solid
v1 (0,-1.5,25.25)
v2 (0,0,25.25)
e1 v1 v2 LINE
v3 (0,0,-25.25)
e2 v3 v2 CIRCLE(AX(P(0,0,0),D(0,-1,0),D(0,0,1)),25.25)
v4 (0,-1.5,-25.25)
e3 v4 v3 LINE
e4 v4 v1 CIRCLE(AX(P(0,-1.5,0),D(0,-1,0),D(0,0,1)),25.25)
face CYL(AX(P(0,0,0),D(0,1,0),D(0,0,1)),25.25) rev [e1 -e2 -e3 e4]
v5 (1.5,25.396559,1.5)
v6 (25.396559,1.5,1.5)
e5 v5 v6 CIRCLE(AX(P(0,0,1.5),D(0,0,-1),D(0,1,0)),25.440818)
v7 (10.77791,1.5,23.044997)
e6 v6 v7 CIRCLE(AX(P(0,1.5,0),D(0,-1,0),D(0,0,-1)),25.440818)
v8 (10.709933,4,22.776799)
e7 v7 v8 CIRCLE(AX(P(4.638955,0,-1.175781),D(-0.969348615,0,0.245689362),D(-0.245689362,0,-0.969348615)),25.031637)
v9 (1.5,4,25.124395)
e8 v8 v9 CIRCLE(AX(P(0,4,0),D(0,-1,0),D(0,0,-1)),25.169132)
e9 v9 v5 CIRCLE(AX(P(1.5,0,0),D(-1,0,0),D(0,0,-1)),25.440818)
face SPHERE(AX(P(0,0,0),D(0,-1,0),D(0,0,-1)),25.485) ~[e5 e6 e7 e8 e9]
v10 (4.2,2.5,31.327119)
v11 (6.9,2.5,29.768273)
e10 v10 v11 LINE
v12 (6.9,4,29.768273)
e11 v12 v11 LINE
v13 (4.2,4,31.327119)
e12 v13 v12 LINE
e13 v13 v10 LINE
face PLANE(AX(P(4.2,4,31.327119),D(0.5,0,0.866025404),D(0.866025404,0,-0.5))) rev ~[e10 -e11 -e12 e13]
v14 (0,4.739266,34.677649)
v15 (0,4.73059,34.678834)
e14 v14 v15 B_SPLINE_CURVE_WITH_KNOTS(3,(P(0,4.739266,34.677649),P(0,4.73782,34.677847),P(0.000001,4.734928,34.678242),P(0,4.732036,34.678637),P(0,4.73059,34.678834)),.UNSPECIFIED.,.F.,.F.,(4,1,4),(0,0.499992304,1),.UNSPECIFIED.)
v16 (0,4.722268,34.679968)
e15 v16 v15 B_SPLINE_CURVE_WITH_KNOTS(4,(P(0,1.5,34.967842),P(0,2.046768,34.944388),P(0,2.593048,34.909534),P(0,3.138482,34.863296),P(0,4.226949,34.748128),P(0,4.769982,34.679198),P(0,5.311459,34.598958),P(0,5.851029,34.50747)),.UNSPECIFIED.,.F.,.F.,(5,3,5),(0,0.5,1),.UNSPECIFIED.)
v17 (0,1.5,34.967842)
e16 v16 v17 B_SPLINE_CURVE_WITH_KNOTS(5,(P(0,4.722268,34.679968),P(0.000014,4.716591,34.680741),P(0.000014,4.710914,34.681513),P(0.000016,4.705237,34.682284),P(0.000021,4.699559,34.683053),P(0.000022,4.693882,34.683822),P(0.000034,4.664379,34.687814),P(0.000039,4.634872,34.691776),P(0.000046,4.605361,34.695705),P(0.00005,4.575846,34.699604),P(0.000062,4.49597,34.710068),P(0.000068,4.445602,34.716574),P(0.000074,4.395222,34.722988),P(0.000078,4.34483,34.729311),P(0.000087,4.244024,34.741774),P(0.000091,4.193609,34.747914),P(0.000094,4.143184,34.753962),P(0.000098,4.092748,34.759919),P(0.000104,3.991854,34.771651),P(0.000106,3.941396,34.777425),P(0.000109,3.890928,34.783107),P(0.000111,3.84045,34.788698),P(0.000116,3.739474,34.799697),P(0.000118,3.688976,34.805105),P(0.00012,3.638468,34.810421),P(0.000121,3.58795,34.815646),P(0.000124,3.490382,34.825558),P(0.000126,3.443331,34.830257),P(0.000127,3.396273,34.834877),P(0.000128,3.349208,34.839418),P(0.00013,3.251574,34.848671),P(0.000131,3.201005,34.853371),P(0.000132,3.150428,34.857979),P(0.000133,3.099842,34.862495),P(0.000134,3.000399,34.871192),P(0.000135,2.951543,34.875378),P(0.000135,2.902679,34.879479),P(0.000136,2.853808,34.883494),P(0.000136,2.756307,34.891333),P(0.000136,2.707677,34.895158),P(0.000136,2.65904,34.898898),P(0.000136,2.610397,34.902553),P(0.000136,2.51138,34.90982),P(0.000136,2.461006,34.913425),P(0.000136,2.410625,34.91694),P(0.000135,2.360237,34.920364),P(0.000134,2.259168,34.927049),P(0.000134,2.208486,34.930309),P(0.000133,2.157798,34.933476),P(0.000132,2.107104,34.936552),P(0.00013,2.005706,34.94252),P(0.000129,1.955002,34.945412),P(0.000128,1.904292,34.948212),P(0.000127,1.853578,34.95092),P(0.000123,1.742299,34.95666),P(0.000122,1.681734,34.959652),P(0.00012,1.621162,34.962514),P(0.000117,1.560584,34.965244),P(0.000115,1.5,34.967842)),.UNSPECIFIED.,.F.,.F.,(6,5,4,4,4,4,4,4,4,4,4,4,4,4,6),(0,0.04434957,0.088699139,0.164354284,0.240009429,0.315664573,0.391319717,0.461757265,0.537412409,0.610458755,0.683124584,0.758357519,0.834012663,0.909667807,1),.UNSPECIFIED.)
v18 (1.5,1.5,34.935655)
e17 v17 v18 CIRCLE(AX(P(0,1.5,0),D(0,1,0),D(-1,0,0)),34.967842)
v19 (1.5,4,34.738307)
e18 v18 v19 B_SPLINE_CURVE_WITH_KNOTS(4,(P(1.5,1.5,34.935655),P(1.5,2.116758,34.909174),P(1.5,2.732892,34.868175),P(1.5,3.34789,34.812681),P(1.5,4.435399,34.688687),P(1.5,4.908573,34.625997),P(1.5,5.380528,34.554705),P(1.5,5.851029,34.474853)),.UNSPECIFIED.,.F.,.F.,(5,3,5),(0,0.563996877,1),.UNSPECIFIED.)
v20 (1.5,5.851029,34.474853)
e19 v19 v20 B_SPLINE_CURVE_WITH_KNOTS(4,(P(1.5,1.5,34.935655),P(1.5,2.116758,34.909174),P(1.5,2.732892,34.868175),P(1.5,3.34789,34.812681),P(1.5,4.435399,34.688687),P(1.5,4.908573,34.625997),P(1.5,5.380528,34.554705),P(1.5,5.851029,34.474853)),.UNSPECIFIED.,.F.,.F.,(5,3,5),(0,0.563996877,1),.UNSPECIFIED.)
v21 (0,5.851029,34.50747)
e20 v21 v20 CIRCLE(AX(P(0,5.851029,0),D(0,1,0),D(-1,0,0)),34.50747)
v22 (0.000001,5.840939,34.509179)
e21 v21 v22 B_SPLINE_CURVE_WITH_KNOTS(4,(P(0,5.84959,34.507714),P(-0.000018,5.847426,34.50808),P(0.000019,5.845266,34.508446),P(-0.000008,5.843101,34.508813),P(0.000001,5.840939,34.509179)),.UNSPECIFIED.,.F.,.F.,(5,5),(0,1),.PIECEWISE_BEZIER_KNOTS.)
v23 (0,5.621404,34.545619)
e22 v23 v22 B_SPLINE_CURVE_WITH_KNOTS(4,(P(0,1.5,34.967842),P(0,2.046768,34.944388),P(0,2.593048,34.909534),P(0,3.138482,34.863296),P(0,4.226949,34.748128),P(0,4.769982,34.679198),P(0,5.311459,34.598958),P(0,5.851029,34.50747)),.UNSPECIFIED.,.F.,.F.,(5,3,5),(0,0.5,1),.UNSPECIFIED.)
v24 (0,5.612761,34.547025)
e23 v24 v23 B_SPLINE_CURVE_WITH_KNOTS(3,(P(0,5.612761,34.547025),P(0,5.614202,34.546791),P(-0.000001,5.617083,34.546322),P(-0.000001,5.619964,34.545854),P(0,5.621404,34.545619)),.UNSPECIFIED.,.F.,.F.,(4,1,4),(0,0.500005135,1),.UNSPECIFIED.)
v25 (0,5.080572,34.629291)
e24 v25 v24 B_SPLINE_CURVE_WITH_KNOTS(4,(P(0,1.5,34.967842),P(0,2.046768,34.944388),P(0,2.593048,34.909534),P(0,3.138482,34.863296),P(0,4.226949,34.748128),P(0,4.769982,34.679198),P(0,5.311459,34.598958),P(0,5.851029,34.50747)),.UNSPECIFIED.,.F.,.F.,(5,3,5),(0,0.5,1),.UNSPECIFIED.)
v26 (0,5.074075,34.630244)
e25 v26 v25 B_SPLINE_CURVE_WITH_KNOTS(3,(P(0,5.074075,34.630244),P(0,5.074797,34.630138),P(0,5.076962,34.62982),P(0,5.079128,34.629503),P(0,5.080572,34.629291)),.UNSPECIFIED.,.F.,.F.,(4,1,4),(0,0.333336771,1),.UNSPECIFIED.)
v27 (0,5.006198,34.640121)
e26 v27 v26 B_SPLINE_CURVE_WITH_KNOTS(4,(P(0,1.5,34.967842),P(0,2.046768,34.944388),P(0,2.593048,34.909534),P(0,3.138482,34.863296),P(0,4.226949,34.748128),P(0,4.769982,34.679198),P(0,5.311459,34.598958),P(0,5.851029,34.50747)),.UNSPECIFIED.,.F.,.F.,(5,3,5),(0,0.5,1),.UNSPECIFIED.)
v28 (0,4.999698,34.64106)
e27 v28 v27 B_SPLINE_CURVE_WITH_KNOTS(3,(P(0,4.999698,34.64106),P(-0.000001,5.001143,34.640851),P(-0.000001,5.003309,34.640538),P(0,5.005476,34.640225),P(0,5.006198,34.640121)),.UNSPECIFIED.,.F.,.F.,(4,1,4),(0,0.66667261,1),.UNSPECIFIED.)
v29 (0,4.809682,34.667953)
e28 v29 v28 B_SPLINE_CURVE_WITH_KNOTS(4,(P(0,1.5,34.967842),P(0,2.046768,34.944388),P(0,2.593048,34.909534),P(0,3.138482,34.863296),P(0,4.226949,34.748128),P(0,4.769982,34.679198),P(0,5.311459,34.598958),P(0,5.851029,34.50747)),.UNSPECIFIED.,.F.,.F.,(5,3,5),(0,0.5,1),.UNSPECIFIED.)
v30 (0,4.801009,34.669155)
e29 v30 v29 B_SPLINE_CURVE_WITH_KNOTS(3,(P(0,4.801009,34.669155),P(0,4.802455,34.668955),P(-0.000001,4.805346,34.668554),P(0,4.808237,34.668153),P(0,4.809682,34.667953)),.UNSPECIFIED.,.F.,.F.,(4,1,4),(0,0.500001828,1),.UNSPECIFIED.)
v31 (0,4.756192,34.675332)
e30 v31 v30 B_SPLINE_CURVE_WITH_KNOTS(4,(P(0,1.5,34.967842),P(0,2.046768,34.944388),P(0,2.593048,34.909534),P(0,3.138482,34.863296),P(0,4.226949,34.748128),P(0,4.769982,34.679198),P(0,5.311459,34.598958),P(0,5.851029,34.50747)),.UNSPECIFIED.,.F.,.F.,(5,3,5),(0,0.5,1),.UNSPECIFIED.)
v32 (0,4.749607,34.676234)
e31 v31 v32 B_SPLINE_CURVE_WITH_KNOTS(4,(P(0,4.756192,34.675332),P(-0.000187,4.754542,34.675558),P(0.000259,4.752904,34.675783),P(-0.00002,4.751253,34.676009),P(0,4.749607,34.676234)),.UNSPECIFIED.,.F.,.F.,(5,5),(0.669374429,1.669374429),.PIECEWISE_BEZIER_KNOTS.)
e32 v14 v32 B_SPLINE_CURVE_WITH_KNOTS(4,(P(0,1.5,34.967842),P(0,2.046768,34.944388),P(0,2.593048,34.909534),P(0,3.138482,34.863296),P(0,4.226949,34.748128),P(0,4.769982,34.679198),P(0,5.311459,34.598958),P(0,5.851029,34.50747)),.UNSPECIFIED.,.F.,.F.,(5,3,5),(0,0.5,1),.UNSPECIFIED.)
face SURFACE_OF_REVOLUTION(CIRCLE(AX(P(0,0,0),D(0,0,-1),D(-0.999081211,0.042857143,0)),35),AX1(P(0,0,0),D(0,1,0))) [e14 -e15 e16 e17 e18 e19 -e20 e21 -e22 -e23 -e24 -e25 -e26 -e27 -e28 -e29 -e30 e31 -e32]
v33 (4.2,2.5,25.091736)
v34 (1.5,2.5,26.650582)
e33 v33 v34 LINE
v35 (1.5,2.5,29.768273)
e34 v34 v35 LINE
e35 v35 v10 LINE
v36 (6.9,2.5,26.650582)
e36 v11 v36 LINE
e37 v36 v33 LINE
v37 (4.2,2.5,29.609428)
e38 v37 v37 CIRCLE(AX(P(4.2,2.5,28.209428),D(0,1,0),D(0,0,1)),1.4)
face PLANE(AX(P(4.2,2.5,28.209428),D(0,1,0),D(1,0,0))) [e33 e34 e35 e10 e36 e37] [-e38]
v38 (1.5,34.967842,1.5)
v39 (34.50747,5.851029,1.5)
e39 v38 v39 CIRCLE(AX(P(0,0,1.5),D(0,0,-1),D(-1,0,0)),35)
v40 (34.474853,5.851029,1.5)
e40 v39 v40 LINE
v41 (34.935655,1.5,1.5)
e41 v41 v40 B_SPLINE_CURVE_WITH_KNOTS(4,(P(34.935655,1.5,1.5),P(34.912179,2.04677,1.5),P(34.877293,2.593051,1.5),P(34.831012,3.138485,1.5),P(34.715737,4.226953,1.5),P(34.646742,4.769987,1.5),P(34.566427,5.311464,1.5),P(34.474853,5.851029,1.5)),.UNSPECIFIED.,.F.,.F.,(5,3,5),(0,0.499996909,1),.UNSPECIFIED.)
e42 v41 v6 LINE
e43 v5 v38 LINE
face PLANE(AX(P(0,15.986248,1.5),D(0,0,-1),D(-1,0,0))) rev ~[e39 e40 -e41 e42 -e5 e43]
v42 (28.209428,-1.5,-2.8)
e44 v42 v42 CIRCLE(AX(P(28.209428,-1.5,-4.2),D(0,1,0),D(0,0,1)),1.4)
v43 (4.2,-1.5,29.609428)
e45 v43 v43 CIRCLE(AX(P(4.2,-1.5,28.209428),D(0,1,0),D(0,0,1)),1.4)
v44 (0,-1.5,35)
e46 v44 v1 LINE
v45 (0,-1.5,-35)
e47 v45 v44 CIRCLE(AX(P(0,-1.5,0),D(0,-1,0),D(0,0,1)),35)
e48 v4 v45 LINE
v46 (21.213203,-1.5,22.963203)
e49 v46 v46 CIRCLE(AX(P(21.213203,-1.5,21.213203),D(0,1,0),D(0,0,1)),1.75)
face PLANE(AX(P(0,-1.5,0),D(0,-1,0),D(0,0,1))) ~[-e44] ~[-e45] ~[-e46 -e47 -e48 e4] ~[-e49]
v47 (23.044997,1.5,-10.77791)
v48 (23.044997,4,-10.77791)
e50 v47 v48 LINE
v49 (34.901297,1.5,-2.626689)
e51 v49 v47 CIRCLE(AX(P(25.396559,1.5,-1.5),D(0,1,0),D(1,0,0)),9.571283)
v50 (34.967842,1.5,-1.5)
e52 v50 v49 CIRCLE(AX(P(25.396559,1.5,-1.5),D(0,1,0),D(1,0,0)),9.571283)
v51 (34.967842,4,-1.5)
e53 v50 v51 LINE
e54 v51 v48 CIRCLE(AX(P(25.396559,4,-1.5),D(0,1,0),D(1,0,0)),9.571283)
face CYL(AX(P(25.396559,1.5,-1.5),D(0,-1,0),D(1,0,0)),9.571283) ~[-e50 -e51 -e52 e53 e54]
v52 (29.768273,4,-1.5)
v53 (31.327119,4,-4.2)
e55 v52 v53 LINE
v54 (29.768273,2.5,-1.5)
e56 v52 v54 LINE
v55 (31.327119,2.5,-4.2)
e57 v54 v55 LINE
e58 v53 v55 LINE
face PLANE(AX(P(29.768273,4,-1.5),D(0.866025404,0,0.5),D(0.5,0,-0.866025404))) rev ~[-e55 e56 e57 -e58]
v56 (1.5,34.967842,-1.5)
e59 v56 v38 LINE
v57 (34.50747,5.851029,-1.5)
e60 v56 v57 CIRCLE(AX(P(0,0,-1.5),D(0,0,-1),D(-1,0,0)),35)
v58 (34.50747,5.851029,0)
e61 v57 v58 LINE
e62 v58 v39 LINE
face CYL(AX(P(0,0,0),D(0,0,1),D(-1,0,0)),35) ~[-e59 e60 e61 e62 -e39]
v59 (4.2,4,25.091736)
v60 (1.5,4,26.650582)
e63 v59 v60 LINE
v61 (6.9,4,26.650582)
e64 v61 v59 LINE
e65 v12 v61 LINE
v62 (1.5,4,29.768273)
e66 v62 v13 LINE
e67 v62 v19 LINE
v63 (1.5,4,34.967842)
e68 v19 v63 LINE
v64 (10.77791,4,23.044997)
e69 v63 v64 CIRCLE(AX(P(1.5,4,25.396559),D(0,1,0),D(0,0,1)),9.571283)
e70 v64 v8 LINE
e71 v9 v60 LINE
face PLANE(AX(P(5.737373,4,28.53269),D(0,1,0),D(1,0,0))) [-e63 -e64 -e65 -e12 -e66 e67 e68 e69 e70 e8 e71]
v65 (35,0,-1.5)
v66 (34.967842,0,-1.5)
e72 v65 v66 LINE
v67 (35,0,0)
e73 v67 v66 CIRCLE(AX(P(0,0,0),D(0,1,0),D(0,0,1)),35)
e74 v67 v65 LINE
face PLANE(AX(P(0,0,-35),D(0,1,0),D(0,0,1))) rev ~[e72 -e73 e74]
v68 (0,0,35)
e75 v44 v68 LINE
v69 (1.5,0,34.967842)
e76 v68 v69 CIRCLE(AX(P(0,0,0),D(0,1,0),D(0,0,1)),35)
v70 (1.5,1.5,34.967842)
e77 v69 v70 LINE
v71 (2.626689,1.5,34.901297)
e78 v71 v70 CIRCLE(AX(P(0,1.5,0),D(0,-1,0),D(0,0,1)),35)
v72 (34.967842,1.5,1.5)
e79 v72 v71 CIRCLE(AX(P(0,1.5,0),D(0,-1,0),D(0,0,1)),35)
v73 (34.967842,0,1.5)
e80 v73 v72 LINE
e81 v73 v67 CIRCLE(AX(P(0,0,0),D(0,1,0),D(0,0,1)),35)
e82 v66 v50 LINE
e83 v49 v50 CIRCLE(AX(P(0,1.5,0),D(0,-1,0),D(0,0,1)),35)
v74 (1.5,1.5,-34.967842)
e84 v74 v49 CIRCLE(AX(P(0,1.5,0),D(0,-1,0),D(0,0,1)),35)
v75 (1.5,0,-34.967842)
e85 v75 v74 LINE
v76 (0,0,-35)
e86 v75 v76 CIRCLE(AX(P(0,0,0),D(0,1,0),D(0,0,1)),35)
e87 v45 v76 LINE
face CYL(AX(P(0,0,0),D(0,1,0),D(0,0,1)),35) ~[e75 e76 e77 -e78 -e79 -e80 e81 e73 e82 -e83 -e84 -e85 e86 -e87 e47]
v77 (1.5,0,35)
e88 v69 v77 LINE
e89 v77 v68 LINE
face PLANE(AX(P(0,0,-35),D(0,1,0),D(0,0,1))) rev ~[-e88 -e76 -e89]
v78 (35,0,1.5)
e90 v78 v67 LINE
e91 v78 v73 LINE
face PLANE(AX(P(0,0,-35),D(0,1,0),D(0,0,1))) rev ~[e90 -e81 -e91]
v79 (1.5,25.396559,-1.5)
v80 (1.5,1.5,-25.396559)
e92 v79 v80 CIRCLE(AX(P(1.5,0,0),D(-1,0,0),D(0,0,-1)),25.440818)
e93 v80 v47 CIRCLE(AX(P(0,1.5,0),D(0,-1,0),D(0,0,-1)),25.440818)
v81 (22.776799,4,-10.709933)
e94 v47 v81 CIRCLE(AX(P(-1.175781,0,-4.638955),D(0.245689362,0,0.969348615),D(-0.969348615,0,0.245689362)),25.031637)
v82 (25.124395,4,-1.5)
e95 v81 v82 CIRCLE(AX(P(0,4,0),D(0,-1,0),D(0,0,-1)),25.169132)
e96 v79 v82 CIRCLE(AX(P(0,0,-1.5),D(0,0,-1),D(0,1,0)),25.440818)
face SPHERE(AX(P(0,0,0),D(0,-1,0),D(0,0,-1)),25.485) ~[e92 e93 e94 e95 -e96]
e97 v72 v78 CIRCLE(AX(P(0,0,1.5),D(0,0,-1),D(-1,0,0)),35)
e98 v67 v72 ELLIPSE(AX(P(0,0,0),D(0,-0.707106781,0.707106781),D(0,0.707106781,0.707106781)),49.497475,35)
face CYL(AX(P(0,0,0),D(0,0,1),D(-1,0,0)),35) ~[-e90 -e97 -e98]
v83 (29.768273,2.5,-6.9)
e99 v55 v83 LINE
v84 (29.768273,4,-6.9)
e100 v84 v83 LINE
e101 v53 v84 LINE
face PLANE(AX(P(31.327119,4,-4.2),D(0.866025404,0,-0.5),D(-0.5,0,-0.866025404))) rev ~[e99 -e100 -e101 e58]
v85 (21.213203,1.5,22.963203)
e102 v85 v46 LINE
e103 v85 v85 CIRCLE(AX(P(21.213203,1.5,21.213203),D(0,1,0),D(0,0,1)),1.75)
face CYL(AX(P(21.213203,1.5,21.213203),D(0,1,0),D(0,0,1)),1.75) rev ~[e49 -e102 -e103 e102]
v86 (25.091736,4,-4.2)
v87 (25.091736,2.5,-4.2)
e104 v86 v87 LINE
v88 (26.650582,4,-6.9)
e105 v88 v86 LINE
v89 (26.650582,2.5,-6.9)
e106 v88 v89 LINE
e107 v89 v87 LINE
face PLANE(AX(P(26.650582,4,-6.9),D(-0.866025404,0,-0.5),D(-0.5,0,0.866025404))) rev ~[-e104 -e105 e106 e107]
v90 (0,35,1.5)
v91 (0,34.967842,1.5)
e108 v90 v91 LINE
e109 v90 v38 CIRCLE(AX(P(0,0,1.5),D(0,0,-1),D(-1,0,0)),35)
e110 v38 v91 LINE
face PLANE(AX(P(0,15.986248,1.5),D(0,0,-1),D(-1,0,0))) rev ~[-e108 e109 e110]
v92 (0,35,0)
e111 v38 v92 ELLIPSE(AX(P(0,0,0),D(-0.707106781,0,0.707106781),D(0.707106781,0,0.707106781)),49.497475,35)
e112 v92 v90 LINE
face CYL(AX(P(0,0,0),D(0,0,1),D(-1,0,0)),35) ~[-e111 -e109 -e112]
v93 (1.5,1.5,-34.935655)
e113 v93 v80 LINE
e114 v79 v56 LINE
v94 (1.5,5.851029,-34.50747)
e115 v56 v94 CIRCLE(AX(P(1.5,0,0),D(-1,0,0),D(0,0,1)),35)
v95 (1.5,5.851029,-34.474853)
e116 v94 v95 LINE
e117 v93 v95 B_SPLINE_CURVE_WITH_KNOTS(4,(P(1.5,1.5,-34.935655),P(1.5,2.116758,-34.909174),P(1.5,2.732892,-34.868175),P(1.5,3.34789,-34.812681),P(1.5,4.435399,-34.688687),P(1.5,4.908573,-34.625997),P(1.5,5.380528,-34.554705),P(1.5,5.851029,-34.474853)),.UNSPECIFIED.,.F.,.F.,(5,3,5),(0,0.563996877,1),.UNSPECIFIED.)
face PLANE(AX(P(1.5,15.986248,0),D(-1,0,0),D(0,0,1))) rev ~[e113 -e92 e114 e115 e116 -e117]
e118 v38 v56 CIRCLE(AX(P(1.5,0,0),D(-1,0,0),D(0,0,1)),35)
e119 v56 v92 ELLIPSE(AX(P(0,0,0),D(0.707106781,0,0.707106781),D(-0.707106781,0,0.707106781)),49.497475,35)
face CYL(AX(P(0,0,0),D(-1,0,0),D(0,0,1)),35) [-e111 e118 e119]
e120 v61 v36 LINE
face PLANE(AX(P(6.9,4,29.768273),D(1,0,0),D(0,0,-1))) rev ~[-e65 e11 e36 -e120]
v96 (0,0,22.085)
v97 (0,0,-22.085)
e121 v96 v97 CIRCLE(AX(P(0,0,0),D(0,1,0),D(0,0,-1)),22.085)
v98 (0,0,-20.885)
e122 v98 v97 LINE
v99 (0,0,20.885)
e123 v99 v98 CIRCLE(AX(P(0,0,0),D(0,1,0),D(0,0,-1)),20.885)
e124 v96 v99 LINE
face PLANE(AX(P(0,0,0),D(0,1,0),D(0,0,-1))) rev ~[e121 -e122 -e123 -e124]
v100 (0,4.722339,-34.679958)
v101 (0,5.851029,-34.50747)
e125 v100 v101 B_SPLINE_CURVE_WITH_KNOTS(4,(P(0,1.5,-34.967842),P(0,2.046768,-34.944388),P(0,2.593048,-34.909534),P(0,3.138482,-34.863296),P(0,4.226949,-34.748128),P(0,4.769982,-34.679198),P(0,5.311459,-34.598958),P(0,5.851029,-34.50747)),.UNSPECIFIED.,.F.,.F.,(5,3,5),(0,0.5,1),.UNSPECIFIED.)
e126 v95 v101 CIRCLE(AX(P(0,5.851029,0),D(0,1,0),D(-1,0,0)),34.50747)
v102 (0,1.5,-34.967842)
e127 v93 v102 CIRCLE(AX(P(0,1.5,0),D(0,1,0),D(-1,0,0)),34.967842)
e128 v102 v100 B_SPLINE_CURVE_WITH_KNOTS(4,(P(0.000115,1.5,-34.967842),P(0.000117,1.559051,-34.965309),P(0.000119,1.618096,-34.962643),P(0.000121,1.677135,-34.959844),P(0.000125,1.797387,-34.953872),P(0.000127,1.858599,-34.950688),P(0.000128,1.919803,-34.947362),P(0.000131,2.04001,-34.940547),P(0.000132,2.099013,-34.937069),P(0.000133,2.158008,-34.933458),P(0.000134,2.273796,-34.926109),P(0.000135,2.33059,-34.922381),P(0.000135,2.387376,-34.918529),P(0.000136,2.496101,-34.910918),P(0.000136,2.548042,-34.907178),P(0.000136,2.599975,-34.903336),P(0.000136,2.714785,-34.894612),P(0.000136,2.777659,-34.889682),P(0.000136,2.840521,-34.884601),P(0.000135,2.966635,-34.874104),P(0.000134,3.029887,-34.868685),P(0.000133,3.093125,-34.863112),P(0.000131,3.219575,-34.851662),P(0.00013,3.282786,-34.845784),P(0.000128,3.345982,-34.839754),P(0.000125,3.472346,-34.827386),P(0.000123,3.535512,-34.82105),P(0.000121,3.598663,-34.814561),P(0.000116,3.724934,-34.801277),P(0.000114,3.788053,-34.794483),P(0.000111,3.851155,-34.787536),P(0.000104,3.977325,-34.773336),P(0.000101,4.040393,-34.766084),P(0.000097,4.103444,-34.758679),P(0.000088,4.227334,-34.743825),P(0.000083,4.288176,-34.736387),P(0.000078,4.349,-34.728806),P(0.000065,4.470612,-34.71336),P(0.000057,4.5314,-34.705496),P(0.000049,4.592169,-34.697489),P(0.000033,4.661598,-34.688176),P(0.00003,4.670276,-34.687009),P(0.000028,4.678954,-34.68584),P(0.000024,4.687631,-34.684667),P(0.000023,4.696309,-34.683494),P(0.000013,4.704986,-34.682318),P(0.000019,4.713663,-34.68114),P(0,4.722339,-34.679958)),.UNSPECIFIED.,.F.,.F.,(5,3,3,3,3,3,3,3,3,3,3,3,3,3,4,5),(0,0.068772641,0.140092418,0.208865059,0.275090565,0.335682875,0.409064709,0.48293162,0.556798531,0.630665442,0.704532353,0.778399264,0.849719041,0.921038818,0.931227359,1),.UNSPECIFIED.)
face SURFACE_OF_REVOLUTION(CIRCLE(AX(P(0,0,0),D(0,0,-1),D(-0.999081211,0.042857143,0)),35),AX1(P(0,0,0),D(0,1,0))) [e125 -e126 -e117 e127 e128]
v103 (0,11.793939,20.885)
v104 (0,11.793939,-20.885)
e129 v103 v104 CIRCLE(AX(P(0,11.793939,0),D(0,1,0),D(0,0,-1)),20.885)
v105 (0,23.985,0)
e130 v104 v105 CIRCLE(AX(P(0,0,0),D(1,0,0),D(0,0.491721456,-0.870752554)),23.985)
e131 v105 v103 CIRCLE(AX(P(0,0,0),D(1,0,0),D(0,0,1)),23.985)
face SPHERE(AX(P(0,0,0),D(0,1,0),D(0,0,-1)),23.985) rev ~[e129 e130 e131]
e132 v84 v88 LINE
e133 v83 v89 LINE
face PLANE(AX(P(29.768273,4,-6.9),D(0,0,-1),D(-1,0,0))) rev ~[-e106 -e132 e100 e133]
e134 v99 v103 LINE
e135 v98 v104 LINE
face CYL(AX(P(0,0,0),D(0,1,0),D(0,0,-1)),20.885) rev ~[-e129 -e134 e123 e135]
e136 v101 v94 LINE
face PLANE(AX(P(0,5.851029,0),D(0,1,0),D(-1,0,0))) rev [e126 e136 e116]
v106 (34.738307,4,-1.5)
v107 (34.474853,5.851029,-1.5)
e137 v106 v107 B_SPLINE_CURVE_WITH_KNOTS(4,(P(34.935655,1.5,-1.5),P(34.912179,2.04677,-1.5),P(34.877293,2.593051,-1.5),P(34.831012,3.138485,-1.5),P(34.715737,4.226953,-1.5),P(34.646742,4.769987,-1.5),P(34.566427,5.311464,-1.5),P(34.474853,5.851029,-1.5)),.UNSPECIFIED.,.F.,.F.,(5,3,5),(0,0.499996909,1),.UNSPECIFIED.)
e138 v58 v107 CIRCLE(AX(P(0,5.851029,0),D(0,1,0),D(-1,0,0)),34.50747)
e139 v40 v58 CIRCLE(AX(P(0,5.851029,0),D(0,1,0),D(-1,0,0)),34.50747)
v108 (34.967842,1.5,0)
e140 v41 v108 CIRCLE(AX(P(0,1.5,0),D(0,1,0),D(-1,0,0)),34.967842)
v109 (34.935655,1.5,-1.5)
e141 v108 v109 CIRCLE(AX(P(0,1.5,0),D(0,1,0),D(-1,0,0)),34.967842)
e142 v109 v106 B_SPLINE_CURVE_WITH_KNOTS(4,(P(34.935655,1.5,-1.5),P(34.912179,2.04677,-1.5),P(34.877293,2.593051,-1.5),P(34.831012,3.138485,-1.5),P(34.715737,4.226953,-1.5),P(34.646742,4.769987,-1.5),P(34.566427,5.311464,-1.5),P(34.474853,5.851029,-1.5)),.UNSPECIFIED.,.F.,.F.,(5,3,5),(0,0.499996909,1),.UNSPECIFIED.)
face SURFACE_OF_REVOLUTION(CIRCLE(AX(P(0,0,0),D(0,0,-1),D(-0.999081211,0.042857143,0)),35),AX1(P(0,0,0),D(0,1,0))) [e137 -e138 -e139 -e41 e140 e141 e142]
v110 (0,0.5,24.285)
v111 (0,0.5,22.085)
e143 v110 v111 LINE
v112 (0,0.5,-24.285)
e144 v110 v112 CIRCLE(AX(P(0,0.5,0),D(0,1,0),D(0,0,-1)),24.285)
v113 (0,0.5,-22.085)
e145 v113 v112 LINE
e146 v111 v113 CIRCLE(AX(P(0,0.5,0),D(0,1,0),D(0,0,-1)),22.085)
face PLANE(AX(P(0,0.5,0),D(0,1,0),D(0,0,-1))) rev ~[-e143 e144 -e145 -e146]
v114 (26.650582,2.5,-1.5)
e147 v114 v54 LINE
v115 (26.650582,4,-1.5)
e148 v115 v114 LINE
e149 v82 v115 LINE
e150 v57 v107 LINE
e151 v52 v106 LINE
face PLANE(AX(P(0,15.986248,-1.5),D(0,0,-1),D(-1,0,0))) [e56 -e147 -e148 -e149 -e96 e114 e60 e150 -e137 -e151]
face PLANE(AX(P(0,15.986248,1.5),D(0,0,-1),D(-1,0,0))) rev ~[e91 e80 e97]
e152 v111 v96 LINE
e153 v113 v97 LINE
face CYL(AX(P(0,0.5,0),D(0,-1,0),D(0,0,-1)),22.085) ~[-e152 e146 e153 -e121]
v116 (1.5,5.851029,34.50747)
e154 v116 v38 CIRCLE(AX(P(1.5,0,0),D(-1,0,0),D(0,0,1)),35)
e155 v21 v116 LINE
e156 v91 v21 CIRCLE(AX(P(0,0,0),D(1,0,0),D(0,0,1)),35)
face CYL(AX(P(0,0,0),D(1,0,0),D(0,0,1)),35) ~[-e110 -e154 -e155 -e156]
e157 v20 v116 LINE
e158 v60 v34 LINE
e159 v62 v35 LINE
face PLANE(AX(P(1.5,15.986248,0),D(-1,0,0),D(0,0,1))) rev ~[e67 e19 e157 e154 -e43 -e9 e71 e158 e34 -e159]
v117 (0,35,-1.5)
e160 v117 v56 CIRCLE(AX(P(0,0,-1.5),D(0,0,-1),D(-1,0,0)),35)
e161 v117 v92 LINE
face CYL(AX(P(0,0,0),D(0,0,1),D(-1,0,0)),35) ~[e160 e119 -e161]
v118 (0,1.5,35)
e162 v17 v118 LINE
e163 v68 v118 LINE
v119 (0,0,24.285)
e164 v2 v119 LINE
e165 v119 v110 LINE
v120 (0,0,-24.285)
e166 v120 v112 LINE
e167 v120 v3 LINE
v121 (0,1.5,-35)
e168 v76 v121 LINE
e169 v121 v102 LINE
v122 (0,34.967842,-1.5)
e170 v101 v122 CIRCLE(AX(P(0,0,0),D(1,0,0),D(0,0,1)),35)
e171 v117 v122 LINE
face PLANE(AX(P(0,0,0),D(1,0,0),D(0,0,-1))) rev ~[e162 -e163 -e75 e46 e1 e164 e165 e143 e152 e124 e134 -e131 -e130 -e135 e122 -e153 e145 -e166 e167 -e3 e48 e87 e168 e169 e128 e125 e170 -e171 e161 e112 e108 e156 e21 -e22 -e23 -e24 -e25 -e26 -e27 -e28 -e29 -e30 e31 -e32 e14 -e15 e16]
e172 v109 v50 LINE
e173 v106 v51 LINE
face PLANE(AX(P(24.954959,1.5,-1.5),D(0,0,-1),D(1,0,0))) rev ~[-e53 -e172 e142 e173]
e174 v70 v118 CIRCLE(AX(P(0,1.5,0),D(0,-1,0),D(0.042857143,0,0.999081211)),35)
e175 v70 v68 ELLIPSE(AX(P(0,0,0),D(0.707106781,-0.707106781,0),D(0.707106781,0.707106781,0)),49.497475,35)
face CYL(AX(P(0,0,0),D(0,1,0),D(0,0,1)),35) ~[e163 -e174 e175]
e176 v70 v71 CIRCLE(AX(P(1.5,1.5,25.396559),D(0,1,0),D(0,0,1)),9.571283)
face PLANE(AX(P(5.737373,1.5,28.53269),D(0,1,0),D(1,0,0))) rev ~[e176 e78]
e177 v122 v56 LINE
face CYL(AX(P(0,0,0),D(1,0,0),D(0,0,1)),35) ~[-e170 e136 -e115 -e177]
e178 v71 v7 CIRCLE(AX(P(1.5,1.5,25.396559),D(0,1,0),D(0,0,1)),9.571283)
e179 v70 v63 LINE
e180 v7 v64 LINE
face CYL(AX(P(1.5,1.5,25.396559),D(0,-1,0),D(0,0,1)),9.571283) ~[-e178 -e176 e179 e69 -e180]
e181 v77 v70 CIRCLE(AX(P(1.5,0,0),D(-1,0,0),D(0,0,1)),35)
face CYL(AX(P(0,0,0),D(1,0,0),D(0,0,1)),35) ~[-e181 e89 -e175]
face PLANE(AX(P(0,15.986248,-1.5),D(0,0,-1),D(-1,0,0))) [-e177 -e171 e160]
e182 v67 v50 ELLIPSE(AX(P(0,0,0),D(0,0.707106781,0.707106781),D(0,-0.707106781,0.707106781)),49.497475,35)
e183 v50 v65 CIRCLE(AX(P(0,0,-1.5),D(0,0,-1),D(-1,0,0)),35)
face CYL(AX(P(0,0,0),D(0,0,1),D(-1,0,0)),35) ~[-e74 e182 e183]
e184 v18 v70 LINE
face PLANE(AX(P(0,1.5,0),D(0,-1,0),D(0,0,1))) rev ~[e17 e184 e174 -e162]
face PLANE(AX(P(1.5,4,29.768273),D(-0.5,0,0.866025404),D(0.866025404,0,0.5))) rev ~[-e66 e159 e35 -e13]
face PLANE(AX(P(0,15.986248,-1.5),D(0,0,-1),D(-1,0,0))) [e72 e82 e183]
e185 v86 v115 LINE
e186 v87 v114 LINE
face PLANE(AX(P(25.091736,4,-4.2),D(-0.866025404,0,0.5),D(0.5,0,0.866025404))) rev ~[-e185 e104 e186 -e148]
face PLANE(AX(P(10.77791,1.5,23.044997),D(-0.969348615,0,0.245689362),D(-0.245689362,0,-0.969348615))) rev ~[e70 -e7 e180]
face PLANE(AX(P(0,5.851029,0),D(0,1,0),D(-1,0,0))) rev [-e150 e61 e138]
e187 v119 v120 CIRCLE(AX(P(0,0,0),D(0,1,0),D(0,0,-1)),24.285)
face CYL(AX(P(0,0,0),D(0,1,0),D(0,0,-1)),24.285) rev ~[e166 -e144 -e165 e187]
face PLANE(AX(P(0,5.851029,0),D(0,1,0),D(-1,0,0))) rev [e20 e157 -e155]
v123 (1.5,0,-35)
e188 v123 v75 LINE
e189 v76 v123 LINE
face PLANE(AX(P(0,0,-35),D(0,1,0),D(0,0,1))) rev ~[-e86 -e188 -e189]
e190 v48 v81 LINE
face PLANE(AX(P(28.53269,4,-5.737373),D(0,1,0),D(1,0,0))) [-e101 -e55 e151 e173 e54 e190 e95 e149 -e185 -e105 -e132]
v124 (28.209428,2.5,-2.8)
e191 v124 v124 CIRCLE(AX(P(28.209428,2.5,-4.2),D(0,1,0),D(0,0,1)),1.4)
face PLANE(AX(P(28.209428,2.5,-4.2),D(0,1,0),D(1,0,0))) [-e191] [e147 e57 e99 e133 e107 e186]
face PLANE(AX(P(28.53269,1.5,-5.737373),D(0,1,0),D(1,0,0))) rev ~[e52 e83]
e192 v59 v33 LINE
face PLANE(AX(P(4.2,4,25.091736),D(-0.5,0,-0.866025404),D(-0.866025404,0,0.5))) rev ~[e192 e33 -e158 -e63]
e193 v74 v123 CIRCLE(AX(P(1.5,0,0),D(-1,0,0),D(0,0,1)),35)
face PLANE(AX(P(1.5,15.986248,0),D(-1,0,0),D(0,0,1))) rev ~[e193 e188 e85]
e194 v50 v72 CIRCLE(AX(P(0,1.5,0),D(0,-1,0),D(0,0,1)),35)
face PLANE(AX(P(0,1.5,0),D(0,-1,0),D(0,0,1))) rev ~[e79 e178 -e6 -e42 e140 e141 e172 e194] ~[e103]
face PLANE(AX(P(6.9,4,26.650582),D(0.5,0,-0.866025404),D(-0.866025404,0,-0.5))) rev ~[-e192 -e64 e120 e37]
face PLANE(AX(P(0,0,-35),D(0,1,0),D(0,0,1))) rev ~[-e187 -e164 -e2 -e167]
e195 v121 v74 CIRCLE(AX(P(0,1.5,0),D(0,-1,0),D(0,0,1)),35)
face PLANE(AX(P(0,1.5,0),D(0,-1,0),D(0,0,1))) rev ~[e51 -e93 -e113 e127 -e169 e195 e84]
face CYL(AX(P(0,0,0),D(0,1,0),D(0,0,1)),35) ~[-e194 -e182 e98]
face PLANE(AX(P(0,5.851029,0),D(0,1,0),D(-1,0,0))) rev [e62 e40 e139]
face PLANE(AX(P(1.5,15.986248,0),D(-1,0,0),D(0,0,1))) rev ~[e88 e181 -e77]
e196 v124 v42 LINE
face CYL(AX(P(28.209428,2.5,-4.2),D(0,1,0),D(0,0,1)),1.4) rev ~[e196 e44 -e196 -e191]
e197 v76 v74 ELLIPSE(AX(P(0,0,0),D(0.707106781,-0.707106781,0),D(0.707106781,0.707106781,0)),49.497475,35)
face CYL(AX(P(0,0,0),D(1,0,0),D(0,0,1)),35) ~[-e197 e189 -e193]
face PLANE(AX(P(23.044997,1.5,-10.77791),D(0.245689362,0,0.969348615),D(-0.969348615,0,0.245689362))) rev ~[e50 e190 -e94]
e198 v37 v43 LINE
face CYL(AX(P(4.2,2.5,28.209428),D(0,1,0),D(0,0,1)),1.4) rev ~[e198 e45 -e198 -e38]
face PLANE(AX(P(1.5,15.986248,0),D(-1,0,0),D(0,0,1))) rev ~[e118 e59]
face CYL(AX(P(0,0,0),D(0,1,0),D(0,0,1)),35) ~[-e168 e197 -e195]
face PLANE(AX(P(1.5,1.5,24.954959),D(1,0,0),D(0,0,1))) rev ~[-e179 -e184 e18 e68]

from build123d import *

# Parameters (mm, degrees)
BOSS_EXTRUDE1_DEPTH      = 1.5
BOSS_EXTRUDE1_DEPTH_BACK = 1.5
BOSS_EXTRUDE2_DEPTH      = 1.5
BOSS_EXTRUDE2_DEPTH_BACK = 1.5
SKETCH6_W                = 9.75
SKETCH6_H                = 3
SKETCH6_W_2              = 0.965
SKETCH6_H_2              = 1.5
BOSS_EXTRUDE4_DEPTH      = 2.5
CUT_EXTRUDE1_DEPTH       = 1.5
SKETCH11_R               = 1.4
CUT_EXTRUDE2_DEPTH       = 60.213596412
SKETCH13_R               = 10.5
BOSS_EXTRUDE5_DEPTH      = 2
BOSS_EXTRUDE5_DEPTH_BACK = 5
CUT_EXTRUDE3_DEPTH       = 10
CUT_EXTRUDE3_DEPTH_BACK  = 10
SKETCH15_R               = 9
CUT_EXTRUDE4_DEPTH       = 10
CUT_EXTRUDE5_DEPTH       = 4.1
SKETCH19_R               = 8.75
CUT_EXTRUDE6_DEPTH       = 2.5
SKETCH23_R               = 1.75
CUT_EXTRUDE9_DEPTH       = 10


with BuildPart() as part:
    # Sketch1 → Revolve1 (revolve)
    with BuildSketch(Plane.XY, mode=Mode.PRIVATE) as revolve1_sk:
        with BuildLine():
            Line((-20.885, 0), (-20.885, 11.793939121))
            ThreePointArc((-20.885, 11.793939121), (-12.091372858, 20.714220415), (0, 23.985))
            Line((0, 23.985), (0, 25.485))
            ThreePointArc((0, 25.485), (-18.020616319, 18.020616319), (-25.485, 0))
            Line((-25.485, 0), (-24.285, 0))
            Line((-24.285, 0), (-24.285, 0.5))
            Line((-24.285, 0.5), (-22.085, 0.5))
            Line((-22.085, 0.5), (-22.085, 0))
            Line((-22.085, 0), (-20.885, 0))
        make_face()
    revolve(revolve1_sk.sketch.rotate(Axis((0, 0, 0), (0, 1, 0)), 270), axis=Axis((0, 0, 0), (0, 1, 0)))



with BuildPart() as body_2:
    # Sketch2 → Boss-Extrude1 (new, two sides)
    with BuildSketch(Plane.XY) as boss_extrude1_sk:
        with BuildLine():
            Line((-24.9, 0), (-35, 0))
            ThreePointArc((-35, 0), (0, 35), (35, 0))
            Line((35, 0), (24.9, 0))
            ThreePointArc((24.9, 0), (0, 24.9), (-24.9, 0))
        make_face()
    extrude(amount=BOSS_EXTRUDE1_DEPTH)
    extrude(boss_extrude1_sk.sketch, amount=-BOSS_EXTRUDE1_DEPTH_BACK)

    # Sketch3 → Boss-Extrude2 (add, two sides)
    with BuildSketch(Plane(origin=(0, 0, 0), x_dir=(0, 0, -1), z_dir=(1, 0, 0))) as boss_extrude2_sk:
        with BuildLine():
            Line((35, 0), (24.9, 0))
            ThreePointArc((24.9, 0), (0, 24.9), (-24.9, 0))
            Line((-24.9, 0), (-35, 0))
            ThreePointArc((-35, 0), (0, 35), (35, 0))
        make_face()
    extrude(amount=BOSS_EXTRUDE2_DEPTH)
    extrude(boss_extrude2_sk.sketch, amount=-BOSS_EXTRUDE2_DEPTH_BACK)


with BuildPart() as part_1:
    add(part.part)

    add(body_2.part)  # Revolve3 merges body 2
    # Sketch6 → Revolve3 (revolve)
    with BuildSketch(Plane(origin=(0, 0, 0), x_dir=(0, 0, -1), z_dir=(1, 0, 0)), mode=Mode.PRIVATE) as revolve3_sk:
        with Locations((30.125, 0)):
            Rectangle(SKETCH6_W, SKETCH6_H)
        with Locations((24.7675, 0.75)):
            Rectangle(SKETCH6_W_2, SKETCH6_H_2)
    revolve(revolve3_sk.sketch.rotate(Axis((0, 0, 0), (0, -1, 0)), 180), axis=Axis((0, 0, 0), (0, -1, 0)))

    # Sketch9 → Cut-Revolve1 (revolve, cut)
    with BuildSketch(Plane.XY, mode=Mode.PRIVATE) as cut_revolve1_sk:
        with BuildLine():
            Line((34.507469645, 5.851028856), (35.470882951, 5.851028856))
            Line((35.470882951, 5.851028856), (35.470882951, 1.5))
            Line((35.470882951, 1.5), (34.96784237, 1.5))
            ThreePointArc((34.96784237, 1.5), (34.805712289, 3.682715312), (34.507469645, 5.851028856))
        make_face()
    revolve(cut_revolve1_sk.sketch.rotate(Axis((0, 0, 0), (0, 1, 0)), 180), axis=Axis((0, 0, 0), (0, 1, 0)), mode=Mode.SUBTRACT)

    # Sketch7 → Boss-Extrude4 (add)
    with BuildSketch(Plane(origin=(0, 1.5, 0), x_dir=(1, 0, 0), z_dir=(0, 1, 0))):
        with BuildLine():
            Line((23.044996888, 10.777909974), (22.609782845, 10.667601403))
            ThreePointArc((22.609782845, 10.667601403), (24.220082694, 6.195772291), (24.954959427, 1.5))
            Line((24.954959427, 1.5), (25.396559314, 1.5))
            Line((25.396559314, 1.5), (34.96784237, 1.5))
            ThreePointArc((34.96784237, 1.5), (31.274568745, 9.053705347), (23.044996888, 10.777909974))
        make_face()
        with BuildLine():
            ThreePointArc((10.667601403, -22.609782845), (6.195772291, -24.220082694), (1.5, -24.954959427))
            Line((1.5, -24.954959427), (1.5, -25.396559314))
            Line((1.5, -25.396559314), (1.5, -34.96784237))
            ThreePointArc((1.5, -34.96784237), (9.053705347, -31.274568745), (10.777909974, -23.044996888))
            Line((10.777909974, -23.044996888), (10.667601403, -22.609782845))
        make_face()
        with BuildLine():
            Line((-25.396559314, -1.5), (-34.96784237, -1.5))
            ThreePointArc((-34.96784237, -1.5), (-31.274568745, -9.053705347), (-23.044996888, -10.777909974))
            Line((-23.044996888, -10.777909974), (-22.609782845, -10.667601403))
            ThreePointArc((-22.609782845, -10.667601403), (-24.220082694, -6.195772291), (-24.954959427, -1.5))
            Line((-24.954959427, -1.5), (-25.396559314, -1.5))
        make_face()
        with BuildLine():
            ThreePointArc((-2.626689255, 34.901296588), (-9.387133949, 30.818973666), (-10.777909974, 23.044996888))
            ThreePointArc((-10.777909974, 23.044996888), (-6.25053836, 24.661021779), (-1.5, 25.396559314))
            Line((-1.5, 25.396559314), (-1.5, 34.96784237))
            ThreePointArc((-1.5, 34.96784237), (-2.063612885, 34.939111349), (-2.626689255, 34.901296588))
        make_face()
        with BuildLine():
            Line((-10.777909974, 23.044996888), (-10.667601403, 22.609782845))
            ThreePointArc((-10.667601403, 22.609782845), (-6.195772291, 24.220082694), (-1.5, 24.954959427))
            Line((-1.5, 24.954959427), (-1.5, 25.396559314))
            ThreePointArc((-1.5, 25.396559314), (-6.25053836, 24.661021779), (-10.777909974, 23.044996888))
        make_face()
    extrude(amount=BOSS_EXTRUDE4_DEPTH)

    # Sketch10 → Cut-Extrude1 (cut)
    with BuildSketch(Plane(origin=(0, 4, 0), x_dir=(1, 0, 0), z_dir=(0, 1, 0))):
        Polygon((4.2, -31.327119097), (6.9, -29.76827337), (6.9, -26.650581916), (4.2, -25.091736189), (1.5, -26.650581916), (1.5, -29.76827337), align=None)
        Polygon((-25.091736189, -4.2), (-26.650581916, -1.5), (-29.76827337, -1.5), (-31.327119097, -4.2), (-29.76827337, -6.9), (-26.650581916, -6.9), align=None)
        Polygon((-4.2, 31.327119097), (-6.9, 29.76827337), (-6.9, 26.650581916), (-4.2, 25.091736189), (-1.5, 26.650581916), (-1.5, 29.76827337), align=None)
        Polygon((31.327119097, 4.2), (29.76827337, 6.9), (26.650581916, 6.9), (25.091736189, 4.2), (26.650581916, 1.5), (29.76827337, 1.5), align=None)
    extrude(amount=-CUT_EXTRUDE1_DEPTH, mode=Mode.SUBTRACT)

    # Sketch11 → Cut-Extrude2 (cut, through all)
    with BuildSketch(Plane(origin=(0, 2.5, 0), x_dir=(1, 0, 0), z_dir=(0, 1, 0))):
        with Locations(Location((28.209427643, 4.2, 0), (0, 0, 270))):
            Circle(SKETCH11_R)
        with Locations(Location((4.2, -28.209427643, 0), (0, 0, 270))):
            Circle(SKETCH11_R)
        with Locations(Location((-28.209427643, -4.2, 0), (0, 0, 270))):
            Circle(SKETCH11_R)
        with Locations(Location((-4.2, 28.209427643, 0), (0, 0, 270))):
            Circle(SKETCH11_R)
    extrude(amount=-CUT_EXTRUDE2_DEPTH, mode=Mode.SUBTRACT)

    # Sketch13 → Boss-Extrude5 (add, two sides)
    with BuildSketch(Plane(origin=(-12.655947457, 12.655947457, 12.655947457), x_dir=(-0.8164965809277261, -0.408248290463863, -0.408248290463863), z_dir=(0.5773502691896257, -0.5773502691896258, -0.5773502691896258))) as boss_extrude5_sk:
        with Locations(Location((0, 0, 0), (0, 0, 270))):
            Circle(SKETCH13_R)
    extrude(amount=BOSS_EXTRUDE5_DEPTH)
    extrude(boss_extrude5_sk.sketch, amount=-BOSS_EXTRUDE5_DEPTH_BACK)

    # Sketch12 → Cut-Extrude3 (cut, two sides)
    with BuildSketch(Plane(origin=(-12.655947457, 12.655947457, 12.655947457), x_dir=(-0.8164965809277261, -0.408248290463863, -0.408248290463863), z_dir=(0.5773502691896257, -0.5773502691896258, -0.5773502691896258))) as cut_extrude3_sk:
        with BuildLine():
            Line((0.352106197, -6.089829327), (5.097893803, -3.349847575))
            ThreePointArc((5.097893803, -3.349847575), (5.282754963, 3.05), (-0.352106197, 6.089829327))
            Line((-0.352106197, 6.089829327), (-5.097893803, 3.349847575))
            ThreePointArc((-5.097893803, 3.349847575), (-5.282754963, -3.05), (0.352106197, -6.089829327))
        make_face()
    extrude(amount=CUT_EXTRUDE3_DEPTH, mode=Mode.SUBTRACT)
    extrude(cut_extrude3_sk.sketch, amount=-CUT_EXTRUDE3_DEPTH_BACK, mode=Mode.SUBTRACT)

    # Sketch15 → Cut-Extrude4 (cut)
    with BuildSketch(Plane(origin=(-11.501246918, 11.501246918, 11.501246918), x_dir=(-0.40824829046386274, 0.40824829046386296, -0.8164965809277264), z_dir=(0.5773502691896258, -0.5773502691896262, -0.5773502691896255))):
        Circle(SKETCH15_R)
    extrude(amount=CUT_EXTRUDE4_DEPTH, mode=Mode.SUBTRACT)

    # Sketch18 → Cut-Extrude5 (cut)
    with BuildSketch(Plane(origin=(-15.542698803, 15.542698803, 15.542698803), x_dir=(0.40824829046386274, -0.40824829046386296, 0.8164965809277264), z_dir=(-0.5773502691896258, 0.5773502691896262, 0.5773502691896255))):
        with BuildLine():
            Line((0.654858953, -7.06973548), (5.795141047, -4.101992229))
            ThreePointArc((5.795141047, -4.101992229), (6.148780367, 3.55), (-0.654858953, 7.06973548))
            ThreePointArc((-0.654858953, 7.06973548), (-3.55, 6.148780367), (-5.795141047, 4.101992229))
            ThreePointArc((-5.795141047, 4.101992229), (-6.148780367, -3.55), (0.654858953, -7.06973548))
        make_face()
    extrude(amount=-CUT_EXTRUDE5_DEPTH, mode=Mode.SUBTRACT)

    # Sketch19 → Cut-Extrude6 (cut)
    with BuildSketch(Plane(origin=(-15.542698803, 15.542698803, 15.542698803), x_dir=(0.40824829046386274, -0.40824829046386296, 0.8164965809277264), z_dir=(-0.5773502691896258, 0.5773502691896262, 0.5773502691896255))):
        with Locations(Location((0, 0, 0), (0, 0, 270))):
            Circle(SKETCH19_R)
    extrude(amount=-CUT_EXTRUDE6_DEPTH, mode=Mode.SUBTRACT)

    # Sketch23 → Cut-Extrude9 (cut)
    with BuildSketch(Plane(origin=(0, 1.5, 0), x_dir=(1, 0, 0), z_dir=(0, 1, 0))):
        with Locations(Location((21.213203436, -21.213203436, 0), (0, 0, 270))):
            Circle(SKETCH23_R)
        with Locations(Location((-21.213203436, 21.213203436, 0), (0, 0, 270))):
            Circle(SKETCH23_R)
    extrude(amount=-CUT_EXTRUDE9_DEPTH, mode=Mode.SUBTRACT)

    # SurfaceCut1
    split(bisect_by=Plane(origin=(0, 0, 0), x_dir=(0, 0, -1), z_dir=(1, 0, 0)), keep=Keep.TOP)


solid = part_1.part
